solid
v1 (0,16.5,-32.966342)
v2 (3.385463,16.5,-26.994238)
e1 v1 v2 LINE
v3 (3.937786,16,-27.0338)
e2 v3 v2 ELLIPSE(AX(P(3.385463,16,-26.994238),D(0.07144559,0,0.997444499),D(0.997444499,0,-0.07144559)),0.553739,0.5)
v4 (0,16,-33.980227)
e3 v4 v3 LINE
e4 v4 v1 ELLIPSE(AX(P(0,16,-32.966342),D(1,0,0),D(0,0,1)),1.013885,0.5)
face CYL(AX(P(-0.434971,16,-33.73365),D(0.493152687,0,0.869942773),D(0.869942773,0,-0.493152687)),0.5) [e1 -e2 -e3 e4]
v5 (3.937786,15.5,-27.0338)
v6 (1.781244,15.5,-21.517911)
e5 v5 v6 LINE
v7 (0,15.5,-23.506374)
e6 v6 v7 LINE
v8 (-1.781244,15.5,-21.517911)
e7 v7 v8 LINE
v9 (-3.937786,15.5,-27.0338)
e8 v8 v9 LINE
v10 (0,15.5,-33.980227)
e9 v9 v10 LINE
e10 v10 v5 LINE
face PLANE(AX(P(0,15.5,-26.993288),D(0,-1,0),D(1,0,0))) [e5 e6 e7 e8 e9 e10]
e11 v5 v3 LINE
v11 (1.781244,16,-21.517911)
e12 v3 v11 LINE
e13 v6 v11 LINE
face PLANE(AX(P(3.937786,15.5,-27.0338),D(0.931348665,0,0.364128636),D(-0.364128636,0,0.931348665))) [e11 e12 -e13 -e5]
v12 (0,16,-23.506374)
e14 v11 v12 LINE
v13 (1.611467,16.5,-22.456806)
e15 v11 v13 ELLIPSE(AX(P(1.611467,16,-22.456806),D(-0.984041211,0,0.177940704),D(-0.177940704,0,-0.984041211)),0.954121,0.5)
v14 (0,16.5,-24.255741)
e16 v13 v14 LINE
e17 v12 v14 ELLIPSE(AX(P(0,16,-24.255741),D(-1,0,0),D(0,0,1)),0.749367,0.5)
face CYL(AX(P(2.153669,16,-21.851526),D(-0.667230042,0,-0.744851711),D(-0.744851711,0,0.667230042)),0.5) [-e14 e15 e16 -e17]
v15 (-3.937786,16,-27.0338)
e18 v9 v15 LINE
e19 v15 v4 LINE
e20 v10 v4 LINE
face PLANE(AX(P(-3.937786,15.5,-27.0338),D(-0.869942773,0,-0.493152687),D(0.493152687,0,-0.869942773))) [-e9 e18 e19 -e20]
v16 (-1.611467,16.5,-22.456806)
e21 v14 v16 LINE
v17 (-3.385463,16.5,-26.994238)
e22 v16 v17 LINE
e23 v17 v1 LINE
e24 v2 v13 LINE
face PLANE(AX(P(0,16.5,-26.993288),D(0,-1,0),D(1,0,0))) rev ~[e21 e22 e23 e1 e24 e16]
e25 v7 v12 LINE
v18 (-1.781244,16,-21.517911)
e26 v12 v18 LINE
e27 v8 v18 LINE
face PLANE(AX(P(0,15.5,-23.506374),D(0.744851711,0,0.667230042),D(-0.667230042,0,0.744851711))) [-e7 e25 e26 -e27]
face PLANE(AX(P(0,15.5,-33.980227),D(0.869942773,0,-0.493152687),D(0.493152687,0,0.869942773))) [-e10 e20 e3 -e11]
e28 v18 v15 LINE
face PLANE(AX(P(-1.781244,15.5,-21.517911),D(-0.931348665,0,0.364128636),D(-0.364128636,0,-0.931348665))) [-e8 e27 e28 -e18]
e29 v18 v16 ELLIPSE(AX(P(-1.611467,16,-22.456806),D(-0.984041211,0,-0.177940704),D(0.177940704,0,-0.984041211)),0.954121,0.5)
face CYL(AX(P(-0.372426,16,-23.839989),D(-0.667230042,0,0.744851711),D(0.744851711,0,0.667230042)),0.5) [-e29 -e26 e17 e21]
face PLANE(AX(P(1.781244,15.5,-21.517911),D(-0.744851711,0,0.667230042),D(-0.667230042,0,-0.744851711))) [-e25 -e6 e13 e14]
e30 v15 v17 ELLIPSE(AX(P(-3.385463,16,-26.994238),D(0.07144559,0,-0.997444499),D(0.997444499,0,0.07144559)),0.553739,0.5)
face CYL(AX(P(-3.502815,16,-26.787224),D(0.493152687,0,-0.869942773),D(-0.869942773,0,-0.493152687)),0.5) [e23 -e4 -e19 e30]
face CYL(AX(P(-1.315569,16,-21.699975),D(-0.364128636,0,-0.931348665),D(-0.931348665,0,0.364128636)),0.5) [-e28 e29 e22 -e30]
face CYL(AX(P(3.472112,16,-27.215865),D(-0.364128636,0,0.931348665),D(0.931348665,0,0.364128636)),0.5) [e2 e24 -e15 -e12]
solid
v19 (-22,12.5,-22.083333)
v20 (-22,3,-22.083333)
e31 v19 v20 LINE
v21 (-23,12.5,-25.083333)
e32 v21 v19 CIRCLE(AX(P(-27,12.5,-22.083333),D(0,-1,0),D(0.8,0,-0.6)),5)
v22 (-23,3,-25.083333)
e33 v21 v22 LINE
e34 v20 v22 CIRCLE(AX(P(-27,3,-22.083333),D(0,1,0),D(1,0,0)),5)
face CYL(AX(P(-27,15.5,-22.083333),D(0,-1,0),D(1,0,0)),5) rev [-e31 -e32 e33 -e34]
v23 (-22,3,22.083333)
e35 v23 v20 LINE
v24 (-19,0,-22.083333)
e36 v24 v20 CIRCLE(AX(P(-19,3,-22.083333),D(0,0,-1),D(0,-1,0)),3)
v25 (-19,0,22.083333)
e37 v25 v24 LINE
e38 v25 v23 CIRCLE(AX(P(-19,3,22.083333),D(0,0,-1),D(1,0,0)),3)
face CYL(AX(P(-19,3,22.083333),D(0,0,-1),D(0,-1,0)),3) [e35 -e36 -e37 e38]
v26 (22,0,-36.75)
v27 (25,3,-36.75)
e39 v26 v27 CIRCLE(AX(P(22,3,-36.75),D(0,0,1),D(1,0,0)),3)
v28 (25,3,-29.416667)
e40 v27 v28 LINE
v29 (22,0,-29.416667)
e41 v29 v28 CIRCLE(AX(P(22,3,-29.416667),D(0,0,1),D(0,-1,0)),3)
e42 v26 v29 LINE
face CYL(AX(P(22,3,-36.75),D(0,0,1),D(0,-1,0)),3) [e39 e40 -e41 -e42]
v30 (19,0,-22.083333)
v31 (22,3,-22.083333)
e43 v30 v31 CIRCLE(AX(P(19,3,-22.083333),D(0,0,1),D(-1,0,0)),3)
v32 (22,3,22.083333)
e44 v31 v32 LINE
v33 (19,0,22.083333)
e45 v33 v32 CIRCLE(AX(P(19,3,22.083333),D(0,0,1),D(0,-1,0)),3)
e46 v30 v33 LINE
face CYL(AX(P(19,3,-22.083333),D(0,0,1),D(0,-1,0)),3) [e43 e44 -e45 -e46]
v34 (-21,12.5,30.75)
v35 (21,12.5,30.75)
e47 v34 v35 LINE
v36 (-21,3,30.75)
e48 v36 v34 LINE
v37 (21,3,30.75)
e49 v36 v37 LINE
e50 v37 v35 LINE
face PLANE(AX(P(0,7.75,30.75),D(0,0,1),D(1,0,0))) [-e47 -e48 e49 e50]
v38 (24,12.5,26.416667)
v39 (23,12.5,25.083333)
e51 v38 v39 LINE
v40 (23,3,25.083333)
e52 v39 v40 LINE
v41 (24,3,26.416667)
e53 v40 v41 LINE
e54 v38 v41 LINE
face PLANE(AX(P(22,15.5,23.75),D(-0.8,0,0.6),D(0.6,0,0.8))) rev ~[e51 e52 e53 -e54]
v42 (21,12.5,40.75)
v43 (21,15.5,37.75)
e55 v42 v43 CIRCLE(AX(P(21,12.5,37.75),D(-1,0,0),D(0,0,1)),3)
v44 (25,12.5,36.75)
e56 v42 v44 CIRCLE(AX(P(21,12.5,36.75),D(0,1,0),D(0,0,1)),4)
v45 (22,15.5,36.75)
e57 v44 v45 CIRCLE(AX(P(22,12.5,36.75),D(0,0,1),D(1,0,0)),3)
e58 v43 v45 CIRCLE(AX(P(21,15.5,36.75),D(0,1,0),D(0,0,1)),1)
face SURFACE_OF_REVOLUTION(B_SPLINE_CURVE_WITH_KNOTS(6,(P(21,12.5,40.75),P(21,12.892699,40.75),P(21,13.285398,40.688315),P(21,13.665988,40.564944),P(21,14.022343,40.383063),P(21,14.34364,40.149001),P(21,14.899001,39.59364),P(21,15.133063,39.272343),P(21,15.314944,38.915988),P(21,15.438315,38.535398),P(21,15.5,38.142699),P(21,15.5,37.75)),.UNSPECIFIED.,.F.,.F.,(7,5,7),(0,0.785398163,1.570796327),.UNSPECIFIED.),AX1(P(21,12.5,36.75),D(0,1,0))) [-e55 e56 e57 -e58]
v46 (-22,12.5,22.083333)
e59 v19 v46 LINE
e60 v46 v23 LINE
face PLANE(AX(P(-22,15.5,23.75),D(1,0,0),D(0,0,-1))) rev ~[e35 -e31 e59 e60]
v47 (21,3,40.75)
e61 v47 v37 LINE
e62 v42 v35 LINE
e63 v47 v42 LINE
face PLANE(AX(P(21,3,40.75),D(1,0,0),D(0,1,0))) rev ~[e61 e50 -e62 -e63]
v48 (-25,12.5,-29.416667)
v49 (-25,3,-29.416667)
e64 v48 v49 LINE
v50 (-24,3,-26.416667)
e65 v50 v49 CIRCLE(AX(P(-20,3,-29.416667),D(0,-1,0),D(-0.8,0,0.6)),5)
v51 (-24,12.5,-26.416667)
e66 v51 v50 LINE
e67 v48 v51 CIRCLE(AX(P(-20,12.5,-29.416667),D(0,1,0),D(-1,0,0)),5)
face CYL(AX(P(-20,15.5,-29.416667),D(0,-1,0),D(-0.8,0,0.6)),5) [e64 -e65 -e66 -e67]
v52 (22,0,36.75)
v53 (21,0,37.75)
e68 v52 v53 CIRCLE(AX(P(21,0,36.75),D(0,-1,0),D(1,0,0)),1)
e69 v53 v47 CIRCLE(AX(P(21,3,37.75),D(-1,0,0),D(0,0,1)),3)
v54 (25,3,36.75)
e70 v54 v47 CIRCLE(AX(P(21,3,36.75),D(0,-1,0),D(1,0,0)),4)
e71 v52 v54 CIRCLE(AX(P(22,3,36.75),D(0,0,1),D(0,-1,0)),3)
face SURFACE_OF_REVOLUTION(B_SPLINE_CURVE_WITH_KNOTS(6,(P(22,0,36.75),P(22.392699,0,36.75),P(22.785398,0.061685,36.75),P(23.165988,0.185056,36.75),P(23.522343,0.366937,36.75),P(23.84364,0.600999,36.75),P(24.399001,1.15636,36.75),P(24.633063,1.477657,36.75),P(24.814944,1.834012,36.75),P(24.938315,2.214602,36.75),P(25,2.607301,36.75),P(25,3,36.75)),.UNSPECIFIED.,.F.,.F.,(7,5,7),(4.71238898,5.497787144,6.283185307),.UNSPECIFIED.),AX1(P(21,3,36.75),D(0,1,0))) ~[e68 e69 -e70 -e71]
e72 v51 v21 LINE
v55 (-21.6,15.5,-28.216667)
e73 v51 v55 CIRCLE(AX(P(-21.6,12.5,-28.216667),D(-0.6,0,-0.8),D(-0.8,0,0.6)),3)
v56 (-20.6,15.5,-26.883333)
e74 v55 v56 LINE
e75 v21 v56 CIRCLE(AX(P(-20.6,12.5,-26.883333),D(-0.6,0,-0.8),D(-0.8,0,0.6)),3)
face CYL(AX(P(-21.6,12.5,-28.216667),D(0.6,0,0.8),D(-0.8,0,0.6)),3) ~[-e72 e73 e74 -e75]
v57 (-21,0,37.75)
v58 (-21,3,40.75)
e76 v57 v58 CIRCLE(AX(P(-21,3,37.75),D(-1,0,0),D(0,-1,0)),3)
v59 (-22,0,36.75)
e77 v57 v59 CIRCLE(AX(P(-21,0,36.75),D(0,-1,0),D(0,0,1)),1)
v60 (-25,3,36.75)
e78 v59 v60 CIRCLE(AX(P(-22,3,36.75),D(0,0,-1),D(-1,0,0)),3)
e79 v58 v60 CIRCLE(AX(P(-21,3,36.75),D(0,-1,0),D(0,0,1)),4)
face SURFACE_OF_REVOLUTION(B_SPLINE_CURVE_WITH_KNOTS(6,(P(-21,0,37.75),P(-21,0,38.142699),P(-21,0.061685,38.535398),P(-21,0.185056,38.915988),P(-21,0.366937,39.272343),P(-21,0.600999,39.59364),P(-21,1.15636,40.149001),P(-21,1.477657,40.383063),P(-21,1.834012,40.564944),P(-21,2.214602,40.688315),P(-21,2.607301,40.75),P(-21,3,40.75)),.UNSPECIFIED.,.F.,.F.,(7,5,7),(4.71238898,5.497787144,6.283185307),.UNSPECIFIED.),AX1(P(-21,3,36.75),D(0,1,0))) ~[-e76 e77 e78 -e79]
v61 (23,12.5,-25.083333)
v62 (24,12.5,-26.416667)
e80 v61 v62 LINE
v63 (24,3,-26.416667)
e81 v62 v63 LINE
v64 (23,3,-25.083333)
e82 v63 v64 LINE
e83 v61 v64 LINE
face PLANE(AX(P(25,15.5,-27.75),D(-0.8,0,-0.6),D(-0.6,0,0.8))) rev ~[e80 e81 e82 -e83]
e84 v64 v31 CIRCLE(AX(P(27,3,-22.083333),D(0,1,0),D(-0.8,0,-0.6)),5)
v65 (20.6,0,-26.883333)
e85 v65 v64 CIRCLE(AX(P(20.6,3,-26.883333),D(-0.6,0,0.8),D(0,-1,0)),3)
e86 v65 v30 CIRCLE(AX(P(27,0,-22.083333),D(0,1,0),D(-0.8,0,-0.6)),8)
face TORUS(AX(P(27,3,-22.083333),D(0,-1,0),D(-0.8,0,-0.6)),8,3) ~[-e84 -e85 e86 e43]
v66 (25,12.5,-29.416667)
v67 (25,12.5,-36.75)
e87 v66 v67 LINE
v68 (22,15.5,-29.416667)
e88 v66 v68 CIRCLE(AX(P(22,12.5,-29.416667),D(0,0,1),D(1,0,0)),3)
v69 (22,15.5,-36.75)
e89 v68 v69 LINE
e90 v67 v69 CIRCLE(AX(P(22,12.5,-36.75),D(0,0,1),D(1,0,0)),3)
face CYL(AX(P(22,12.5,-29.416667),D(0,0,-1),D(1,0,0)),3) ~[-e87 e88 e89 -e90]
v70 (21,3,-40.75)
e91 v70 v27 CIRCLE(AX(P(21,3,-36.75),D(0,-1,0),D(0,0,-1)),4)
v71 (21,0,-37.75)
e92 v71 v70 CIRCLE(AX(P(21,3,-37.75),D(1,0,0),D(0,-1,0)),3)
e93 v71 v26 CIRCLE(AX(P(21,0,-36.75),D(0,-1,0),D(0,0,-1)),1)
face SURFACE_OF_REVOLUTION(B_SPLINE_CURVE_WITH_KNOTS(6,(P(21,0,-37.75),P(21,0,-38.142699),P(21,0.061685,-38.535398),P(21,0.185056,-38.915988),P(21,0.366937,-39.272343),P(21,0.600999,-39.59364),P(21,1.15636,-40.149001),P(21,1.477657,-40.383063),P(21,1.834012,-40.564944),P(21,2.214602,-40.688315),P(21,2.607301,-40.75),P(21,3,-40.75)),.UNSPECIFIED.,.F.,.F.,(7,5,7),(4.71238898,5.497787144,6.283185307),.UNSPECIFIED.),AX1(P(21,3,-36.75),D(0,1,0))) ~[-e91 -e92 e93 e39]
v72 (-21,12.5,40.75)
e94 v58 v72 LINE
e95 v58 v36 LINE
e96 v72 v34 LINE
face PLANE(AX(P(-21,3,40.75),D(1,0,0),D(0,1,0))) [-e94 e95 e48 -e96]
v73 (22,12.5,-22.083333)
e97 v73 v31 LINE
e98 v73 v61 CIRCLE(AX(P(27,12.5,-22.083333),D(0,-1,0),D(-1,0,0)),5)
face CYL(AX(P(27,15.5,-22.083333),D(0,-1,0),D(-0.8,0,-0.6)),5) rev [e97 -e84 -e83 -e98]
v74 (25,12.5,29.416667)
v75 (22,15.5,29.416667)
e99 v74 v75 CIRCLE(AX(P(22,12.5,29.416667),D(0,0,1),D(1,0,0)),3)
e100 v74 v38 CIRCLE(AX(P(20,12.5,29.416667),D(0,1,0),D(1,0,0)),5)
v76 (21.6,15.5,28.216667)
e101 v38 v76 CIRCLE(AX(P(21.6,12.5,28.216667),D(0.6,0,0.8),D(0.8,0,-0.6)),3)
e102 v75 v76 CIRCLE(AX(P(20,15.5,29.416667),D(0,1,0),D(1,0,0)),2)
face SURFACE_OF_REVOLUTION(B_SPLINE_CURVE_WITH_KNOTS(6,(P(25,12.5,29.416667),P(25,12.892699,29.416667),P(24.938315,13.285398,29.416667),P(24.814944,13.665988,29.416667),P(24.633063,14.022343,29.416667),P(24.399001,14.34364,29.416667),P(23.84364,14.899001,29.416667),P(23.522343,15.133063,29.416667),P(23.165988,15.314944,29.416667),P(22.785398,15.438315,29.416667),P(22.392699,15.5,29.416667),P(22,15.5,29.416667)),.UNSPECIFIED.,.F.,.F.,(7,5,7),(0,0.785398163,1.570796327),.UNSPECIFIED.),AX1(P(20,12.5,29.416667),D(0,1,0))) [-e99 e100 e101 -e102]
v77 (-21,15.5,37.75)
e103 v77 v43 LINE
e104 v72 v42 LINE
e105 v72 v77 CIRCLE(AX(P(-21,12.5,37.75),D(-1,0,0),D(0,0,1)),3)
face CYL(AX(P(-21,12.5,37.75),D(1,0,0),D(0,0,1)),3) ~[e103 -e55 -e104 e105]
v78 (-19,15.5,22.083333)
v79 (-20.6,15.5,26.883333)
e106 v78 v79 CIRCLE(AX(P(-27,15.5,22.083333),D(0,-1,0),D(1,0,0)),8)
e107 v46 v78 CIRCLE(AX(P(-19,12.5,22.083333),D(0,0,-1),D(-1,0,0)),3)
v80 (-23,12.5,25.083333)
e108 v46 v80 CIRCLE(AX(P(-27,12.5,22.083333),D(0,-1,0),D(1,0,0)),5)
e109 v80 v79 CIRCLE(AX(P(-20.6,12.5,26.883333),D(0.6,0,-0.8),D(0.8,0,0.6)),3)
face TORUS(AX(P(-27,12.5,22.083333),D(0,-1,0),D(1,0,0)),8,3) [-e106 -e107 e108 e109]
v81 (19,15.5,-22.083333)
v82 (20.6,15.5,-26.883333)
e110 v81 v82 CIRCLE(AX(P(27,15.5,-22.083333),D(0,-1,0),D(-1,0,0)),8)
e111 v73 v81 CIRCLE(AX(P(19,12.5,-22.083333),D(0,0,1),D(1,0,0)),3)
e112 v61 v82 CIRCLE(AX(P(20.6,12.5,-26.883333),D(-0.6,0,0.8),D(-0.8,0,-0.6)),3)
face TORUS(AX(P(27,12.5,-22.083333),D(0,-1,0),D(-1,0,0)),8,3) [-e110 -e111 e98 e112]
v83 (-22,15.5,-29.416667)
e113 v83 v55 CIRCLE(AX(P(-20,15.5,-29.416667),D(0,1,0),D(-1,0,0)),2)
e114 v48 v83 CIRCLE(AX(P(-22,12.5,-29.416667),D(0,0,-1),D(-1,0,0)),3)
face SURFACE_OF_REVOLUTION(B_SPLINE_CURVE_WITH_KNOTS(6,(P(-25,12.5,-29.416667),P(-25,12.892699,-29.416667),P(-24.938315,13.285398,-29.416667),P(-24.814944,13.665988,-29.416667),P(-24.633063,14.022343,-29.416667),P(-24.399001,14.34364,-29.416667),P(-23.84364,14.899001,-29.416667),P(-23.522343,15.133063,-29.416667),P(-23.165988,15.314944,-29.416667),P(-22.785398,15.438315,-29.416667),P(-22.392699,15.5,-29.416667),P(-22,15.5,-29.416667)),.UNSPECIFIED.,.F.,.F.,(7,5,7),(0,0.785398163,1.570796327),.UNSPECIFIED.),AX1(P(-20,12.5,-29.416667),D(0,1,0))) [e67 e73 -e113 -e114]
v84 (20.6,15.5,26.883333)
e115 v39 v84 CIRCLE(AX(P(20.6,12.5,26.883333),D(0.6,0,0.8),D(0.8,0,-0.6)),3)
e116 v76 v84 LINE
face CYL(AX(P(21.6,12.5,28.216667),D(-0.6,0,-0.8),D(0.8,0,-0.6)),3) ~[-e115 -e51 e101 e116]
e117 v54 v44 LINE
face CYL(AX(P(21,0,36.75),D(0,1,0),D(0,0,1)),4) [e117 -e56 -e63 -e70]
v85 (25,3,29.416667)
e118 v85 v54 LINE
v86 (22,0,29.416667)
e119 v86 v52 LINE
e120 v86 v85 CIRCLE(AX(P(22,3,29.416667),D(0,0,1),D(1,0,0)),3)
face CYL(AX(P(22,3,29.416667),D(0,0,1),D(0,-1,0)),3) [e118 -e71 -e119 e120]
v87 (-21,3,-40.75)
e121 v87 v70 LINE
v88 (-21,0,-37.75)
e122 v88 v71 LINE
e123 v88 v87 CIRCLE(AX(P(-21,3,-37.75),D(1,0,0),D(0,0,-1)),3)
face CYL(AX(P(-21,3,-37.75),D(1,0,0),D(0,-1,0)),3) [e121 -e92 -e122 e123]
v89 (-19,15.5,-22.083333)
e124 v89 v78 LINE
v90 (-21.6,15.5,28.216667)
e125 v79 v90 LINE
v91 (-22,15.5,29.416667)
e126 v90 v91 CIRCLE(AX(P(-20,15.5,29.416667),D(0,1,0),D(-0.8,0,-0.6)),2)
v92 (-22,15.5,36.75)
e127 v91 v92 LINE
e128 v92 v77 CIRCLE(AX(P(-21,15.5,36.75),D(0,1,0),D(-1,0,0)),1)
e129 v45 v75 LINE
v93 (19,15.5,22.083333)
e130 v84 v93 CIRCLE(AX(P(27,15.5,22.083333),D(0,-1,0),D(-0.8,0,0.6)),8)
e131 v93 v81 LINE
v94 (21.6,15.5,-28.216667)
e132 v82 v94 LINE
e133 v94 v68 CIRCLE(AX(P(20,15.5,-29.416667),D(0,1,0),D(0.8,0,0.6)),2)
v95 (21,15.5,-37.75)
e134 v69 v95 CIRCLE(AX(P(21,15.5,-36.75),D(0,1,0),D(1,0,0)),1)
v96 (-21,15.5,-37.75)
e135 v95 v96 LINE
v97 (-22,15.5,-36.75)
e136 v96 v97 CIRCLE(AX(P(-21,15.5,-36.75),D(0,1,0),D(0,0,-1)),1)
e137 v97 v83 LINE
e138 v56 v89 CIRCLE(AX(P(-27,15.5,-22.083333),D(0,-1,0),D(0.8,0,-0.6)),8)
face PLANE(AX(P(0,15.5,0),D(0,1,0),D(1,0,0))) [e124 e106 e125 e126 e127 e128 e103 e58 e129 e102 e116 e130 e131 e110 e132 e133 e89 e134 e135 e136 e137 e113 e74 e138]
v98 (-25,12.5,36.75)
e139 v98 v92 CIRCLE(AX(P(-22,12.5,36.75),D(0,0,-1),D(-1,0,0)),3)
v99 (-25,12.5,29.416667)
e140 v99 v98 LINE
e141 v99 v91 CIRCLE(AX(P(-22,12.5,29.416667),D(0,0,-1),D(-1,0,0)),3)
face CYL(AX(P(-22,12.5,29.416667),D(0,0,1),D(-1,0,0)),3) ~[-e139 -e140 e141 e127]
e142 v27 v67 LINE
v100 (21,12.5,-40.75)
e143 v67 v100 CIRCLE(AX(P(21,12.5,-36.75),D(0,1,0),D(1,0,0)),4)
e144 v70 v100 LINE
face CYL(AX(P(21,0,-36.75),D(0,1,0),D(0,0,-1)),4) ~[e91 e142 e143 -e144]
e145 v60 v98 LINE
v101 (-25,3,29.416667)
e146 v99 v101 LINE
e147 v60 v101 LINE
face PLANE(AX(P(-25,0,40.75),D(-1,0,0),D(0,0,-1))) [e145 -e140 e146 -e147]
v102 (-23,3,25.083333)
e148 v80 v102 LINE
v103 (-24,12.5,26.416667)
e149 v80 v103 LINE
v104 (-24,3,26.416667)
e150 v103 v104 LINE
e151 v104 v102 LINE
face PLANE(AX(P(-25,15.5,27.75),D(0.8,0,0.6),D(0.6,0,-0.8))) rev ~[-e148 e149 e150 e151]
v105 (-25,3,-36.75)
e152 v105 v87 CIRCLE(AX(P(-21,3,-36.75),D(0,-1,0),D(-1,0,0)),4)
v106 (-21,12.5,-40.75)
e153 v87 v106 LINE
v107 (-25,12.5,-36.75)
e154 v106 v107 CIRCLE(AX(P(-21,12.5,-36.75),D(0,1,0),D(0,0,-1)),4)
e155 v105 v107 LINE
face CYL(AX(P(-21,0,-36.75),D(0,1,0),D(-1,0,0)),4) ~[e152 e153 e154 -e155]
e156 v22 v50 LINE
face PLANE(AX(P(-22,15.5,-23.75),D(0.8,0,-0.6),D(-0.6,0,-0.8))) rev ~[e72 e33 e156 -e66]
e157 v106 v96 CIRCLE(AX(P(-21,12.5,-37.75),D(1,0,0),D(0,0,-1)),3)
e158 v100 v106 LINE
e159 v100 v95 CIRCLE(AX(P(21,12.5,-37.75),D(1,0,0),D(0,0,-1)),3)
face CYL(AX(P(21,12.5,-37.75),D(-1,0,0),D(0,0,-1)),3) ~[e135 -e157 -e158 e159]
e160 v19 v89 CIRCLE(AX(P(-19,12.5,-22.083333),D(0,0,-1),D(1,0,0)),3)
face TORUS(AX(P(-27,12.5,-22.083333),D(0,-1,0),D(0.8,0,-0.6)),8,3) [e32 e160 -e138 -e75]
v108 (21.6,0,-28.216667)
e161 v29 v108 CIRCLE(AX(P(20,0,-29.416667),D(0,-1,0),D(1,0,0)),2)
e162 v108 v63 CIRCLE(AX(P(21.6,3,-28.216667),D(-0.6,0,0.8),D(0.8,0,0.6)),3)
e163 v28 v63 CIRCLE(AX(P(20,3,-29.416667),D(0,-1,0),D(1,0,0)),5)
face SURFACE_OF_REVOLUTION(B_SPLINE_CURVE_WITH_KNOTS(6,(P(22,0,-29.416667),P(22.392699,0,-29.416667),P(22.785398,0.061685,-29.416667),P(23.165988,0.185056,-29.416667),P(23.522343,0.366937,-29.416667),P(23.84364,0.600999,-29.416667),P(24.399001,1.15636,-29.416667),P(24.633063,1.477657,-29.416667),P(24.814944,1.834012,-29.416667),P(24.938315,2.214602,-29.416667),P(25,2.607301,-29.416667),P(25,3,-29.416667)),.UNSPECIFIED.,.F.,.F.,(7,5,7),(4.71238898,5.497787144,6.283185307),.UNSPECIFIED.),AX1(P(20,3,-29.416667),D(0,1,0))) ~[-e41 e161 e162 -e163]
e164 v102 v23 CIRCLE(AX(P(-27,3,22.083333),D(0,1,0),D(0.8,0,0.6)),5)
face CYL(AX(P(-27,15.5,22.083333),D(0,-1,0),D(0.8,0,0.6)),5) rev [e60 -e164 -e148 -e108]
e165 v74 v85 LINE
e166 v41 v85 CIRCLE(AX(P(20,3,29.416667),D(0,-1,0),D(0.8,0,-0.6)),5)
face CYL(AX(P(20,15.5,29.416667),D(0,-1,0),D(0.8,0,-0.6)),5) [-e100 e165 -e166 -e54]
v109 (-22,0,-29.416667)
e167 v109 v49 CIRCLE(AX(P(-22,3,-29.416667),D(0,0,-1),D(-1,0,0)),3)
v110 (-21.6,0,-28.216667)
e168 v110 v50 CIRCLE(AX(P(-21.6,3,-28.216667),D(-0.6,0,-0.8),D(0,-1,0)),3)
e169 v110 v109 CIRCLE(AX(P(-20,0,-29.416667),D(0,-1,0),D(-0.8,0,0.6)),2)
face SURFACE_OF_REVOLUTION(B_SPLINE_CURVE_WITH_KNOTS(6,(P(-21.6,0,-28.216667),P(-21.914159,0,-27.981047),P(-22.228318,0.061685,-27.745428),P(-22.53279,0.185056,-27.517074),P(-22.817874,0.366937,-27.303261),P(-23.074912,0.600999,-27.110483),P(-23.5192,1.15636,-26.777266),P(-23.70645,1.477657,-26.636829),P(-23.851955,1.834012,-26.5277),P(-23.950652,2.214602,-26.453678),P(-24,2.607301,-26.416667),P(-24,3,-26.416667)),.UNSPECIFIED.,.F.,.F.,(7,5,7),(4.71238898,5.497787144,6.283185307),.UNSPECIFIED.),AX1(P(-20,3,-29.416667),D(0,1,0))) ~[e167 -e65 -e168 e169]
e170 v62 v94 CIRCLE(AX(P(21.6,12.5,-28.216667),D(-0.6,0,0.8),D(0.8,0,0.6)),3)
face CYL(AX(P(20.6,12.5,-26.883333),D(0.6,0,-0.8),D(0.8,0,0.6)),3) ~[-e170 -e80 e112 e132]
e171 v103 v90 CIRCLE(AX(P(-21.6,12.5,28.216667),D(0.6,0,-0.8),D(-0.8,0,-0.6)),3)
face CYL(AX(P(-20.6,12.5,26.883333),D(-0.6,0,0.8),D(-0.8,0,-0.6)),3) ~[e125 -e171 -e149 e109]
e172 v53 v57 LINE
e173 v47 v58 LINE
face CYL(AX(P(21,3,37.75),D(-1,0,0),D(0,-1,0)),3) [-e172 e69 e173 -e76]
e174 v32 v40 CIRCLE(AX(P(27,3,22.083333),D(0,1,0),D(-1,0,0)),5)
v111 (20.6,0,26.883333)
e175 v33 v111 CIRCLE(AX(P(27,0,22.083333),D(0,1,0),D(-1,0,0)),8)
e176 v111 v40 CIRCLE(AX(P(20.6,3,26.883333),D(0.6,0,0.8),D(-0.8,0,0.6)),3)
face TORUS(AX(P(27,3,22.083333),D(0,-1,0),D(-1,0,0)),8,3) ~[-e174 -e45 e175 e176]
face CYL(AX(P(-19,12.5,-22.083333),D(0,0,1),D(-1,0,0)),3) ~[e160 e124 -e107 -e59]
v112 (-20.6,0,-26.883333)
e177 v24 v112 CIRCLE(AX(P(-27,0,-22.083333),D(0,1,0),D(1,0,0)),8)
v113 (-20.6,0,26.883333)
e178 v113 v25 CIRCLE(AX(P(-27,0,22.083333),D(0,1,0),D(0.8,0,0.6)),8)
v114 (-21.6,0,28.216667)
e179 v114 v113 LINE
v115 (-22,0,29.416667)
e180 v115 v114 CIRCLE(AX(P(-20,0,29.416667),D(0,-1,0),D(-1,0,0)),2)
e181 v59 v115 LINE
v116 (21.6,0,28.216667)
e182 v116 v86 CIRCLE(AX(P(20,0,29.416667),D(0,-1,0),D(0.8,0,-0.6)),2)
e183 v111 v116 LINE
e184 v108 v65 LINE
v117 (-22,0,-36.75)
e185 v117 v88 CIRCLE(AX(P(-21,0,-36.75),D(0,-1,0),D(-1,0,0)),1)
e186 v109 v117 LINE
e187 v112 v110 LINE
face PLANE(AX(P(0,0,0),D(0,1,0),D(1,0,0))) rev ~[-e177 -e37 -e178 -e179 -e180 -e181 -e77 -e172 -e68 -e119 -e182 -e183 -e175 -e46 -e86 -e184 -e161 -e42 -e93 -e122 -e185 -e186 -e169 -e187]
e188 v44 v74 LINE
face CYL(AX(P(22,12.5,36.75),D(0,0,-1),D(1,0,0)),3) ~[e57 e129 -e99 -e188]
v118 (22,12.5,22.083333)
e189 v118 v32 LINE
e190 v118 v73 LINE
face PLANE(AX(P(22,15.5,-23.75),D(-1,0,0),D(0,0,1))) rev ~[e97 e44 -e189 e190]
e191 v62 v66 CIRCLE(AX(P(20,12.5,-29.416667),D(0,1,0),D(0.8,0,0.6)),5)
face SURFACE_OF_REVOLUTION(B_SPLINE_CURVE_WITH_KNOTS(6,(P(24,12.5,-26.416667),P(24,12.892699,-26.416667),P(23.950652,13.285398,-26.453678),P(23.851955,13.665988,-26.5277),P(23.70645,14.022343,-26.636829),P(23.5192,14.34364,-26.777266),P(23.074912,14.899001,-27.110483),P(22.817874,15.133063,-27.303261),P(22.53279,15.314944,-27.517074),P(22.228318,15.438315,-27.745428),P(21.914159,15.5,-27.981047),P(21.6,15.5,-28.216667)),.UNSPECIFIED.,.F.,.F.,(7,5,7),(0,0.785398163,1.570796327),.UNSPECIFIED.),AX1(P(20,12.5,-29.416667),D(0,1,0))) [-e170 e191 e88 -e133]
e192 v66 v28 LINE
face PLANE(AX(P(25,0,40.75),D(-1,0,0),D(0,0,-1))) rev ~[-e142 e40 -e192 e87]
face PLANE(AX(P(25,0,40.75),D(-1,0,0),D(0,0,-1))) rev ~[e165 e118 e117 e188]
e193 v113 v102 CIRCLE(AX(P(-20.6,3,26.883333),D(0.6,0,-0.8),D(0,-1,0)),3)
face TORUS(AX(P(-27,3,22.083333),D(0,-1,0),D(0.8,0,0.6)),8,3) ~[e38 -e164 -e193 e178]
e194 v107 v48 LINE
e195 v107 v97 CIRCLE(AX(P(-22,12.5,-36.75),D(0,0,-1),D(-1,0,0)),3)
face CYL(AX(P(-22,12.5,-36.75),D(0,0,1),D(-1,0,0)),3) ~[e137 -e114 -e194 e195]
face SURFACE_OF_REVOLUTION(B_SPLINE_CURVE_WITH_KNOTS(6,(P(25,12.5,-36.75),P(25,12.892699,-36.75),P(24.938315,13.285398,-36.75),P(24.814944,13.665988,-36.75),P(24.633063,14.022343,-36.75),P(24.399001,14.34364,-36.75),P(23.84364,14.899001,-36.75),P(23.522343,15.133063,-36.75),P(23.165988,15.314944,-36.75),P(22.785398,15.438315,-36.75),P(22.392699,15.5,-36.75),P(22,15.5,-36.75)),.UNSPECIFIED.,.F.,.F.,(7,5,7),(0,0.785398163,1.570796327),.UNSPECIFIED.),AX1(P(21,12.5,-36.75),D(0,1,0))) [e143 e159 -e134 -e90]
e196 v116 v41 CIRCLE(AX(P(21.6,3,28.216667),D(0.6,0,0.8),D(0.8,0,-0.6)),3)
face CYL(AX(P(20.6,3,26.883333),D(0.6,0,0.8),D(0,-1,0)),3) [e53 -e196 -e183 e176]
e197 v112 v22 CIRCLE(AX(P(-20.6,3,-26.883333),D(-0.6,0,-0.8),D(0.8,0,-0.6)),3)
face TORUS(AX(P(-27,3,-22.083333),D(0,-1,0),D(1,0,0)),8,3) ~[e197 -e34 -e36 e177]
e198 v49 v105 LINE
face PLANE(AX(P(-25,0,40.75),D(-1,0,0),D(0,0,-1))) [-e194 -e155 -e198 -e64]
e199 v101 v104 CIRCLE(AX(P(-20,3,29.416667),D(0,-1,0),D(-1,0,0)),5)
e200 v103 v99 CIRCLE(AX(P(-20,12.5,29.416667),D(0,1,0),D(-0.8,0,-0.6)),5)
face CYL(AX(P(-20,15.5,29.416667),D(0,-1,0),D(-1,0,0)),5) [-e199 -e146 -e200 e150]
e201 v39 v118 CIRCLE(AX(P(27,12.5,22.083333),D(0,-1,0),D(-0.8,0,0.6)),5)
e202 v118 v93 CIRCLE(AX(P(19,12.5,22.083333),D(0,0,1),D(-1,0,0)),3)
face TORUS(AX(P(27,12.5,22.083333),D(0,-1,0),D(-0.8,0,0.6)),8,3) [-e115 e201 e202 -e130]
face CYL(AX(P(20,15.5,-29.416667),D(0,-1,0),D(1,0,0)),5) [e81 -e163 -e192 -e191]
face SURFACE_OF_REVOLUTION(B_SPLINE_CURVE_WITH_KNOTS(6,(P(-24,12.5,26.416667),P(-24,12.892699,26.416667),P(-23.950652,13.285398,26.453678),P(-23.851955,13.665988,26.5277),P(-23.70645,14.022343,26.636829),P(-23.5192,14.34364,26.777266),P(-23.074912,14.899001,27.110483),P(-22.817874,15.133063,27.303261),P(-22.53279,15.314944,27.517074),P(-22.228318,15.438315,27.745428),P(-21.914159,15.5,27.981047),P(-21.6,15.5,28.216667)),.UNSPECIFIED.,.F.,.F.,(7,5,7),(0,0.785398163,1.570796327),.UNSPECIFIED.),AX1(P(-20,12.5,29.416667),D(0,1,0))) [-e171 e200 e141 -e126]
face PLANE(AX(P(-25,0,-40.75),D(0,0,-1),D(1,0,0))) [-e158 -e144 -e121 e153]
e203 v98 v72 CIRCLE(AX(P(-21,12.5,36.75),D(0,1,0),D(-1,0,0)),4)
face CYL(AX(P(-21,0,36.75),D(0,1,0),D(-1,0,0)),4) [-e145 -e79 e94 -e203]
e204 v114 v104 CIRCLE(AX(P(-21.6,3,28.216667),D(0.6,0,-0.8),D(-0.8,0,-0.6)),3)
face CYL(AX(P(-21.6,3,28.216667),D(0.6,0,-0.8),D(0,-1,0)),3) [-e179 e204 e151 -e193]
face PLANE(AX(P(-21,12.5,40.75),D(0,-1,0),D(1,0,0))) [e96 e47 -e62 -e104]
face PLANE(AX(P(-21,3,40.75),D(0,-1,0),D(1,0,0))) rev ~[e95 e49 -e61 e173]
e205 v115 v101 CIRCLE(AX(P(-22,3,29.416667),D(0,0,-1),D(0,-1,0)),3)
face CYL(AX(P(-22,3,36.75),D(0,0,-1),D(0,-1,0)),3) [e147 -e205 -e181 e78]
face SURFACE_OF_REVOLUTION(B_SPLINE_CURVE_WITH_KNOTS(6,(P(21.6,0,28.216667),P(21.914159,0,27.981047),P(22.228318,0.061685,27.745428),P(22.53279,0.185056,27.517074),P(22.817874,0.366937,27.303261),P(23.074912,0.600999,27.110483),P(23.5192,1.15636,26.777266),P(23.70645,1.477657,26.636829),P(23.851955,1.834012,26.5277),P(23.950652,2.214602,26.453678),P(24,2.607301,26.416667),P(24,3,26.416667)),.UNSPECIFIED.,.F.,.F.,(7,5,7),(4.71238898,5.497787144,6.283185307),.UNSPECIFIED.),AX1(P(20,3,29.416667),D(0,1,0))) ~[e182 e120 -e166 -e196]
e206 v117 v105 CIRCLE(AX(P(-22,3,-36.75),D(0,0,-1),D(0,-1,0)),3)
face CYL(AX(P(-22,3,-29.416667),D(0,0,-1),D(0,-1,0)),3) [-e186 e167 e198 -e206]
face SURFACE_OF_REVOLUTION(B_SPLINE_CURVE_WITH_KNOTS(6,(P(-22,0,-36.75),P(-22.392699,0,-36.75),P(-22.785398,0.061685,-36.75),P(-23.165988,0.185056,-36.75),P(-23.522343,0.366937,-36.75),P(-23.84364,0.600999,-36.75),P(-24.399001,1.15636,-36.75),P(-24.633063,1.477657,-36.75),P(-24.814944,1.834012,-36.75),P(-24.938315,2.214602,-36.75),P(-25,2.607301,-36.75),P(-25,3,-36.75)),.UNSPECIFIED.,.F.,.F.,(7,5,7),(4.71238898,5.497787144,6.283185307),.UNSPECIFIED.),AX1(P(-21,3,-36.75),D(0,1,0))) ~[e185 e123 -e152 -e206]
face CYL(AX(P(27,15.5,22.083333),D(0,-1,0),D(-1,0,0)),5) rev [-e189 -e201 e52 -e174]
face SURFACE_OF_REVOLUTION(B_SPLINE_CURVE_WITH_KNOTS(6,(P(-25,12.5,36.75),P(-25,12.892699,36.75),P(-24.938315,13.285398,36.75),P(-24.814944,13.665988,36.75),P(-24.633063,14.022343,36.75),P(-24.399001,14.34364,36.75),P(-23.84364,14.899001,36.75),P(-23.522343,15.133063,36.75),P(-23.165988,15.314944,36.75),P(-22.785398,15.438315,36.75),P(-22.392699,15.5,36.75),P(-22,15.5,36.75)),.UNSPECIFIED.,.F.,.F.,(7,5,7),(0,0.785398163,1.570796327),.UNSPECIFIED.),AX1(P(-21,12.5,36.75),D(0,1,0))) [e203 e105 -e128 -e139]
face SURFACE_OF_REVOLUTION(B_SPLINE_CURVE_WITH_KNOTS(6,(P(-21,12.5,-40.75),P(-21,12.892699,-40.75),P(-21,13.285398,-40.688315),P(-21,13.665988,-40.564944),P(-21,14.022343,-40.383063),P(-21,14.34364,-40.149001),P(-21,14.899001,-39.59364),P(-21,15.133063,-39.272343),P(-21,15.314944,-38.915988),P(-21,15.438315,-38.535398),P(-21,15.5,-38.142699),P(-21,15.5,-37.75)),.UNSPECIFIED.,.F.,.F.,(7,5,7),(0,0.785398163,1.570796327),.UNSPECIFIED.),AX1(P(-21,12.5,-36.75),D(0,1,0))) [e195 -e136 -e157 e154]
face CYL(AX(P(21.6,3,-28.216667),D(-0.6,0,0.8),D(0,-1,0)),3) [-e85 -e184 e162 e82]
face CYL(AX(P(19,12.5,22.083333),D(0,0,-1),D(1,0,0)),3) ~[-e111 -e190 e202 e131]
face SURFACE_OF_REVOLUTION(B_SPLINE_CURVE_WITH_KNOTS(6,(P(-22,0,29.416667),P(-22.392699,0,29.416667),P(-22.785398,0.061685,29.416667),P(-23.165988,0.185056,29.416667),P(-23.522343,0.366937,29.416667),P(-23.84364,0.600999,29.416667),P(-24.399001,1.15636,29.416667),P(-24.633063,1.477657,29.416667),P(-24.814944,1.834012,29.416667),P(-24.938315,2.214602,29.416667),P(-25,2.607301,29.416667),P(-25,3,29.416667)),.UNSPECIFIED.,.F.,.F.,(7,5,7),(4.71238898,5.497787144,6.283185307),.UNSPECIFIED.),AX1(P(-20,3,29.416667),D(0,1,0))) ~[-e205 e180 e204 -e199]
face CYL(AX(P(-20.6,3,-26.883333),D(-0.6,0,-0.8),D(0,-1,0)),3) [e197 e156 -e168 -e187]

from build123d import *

# Parameters (mm, degrees)
SKETCH1_W           = 50
SKETCH1_H           = 81.5
BOSS_EXTRUDE1_DEPTH = 15.5
CUT_EXTRUDE4_DEPTH  = 51.257462133
CUT_EXTRUDE5_DEPTH  = 51.257462133
FILLET1_R           = 5
FILLET3_R           = 4
FILLET4_R           = 3
BOSS_EXTRUDE2_DEPTH = 1
FILLET5_R           = 0.5
SKETCH6_W           = 42
SKETCH6_H           = 9.5
CUT_EXTRUDE6_DEPTH  = 10


with BuildPart() as part:
    # Sketch1 → Boss-Extrude1 (new body)
    with BuildSketch(Plane(origin=(0, 0, 0), x_dir=(1, 0, 0), z_dir=(0, 1, 0))):
        Rectangle(SKETCH1_W, SKETCH1_H)
    extrude(amount=BOSS_EXTRUDE1_DEPTH)

    # Sketch2 → Cut-Extrude4 (cut, through all)
    with BuildSketch(Plane(origin=(0, 15.5, 0), x_dir=(-1, 0, 0), z_dir=(0, 1, 0))):
        Polygon((-22, 23.75), (-25, 27.75), (-25, -27.75), (-22, -23.75), align=None)
    extrude(amount=-CUT_EXTRUDE4_DEPTH, mode=Mode.SUBTRACT)

    # Sketch2<6> → Cut-Extrude5 (cut, through all)
    with BuildSketch(Plane(origin=(0, 15.5, 0), x_dir=(-1, 0, 0), z_dir=(0, 1, 0))):
        Polygon((22, -23.75), (25, -27.75), (25, 27.75), (22, 23.75), align=None)
    extrude(amount=-CUT_EXTRUDE5_DEPTH, mode=Mode.SUBTRACT)

    # Fillet1
    fillet1_edges = [part.edges().sort_by_distance(p)[0] for p in [
        (25, 7.75, -27.75),
        (25, 7.75, 27.75),
        (22, 7.75, 23.75),
        (22, 7.75, -23.75),
        (-25, 7.75, 27.75),
        (-25, 7.75, -27.75),
        (-22, 7.75, -23.75),
        (-22, 7.75, 23.75),
    ]]
    fillet(fillet1_edges, radius=FILLET1_R)

    # Fillet3
    fillet3_edges = [part.edges().sort_by_distance(p)[0] for p in [
        (25, 7.75, 40.75),
        (-25, 7.75, 40.75),
        (-25, 7.75, -40.75),
        (25, 7.75, -40.75),
    ]]
    fillet(fillet3_edges, radius=FILLET3_R)

    # Fillet4
    fillet4_edges = [part.edges().sort_by_distance(p)[0] for p in [
        (24.74341649, 0, 27.835527837),
        (23.5, 0, 25.75),
        (22.25658351, 0, 23.664472163),
        (22, 0, 0),
        (22.25658351, 0, -23.664472163),
        (23.5, 0, -25.75),
        (24.74341649, 0, -27.835527837),
        (25, 0, -33.083333333),
        (23.828427125, 0, -39.578427125),
        (0, 0, -40.75),
        (-23.828427125, 0, -39.578427125),
        (-25, 0, -33.083333333),
        (-24.74341649, 0, -27.835527837),
        (-23.5, 0, -25.75),
        (-22.25658351, 0, -23.664472163),
        (-22, 0, 0),
        (-22.25658351, 0, 23.664472163),
        (-23.5, 0, 25.75),
        (-24.74341649, 0, 27.835527837),
        (-25, 0, 33.083333333),
        (-23.828427125, 0, 39.578427125),
        (0, 0, 40.75),
        (23.828427125, 0, 39.578427125),
        (25, 0, 33.083333333),
        (-23.828427125, 15.5, 39.578427125),
        (-25, 15.5, 33.083333333),
        (-24.74341649, 15.5, 27.835527837),
        (-23.5, 15.5, 25.75),
        (-22.25658351, 15.5, 23.664472163),
        (-22, 15.5, 0),
        (-22.25658351, 15.5, -23.664472163),
        (-23.5, 15.5, -25.75),
        (-24.74341649, 15.5, -27.835527837),
        (-25, 15.5, -33.083333333),
        (-23.828427125, 15.5, -39.578427125),
        (0, 15.5, -40.75),
        (23.828427125, 15.5, -39.578427125),
        (25, 15.5, -33.083333333),
        (24.74341649, 15.5, -27.835527837),
        (23.5, 15.5, -25.75),
        (22.25658351, 15.5, -23.664472163),
        (22, 15.5, 0),
        (22.25658351, 15.5, 23.664472163),
        (23.5, 15.5, 25.75),
        (24.74341649, 15.5, 27.835527837),
        (25, 15.5, 33.083333333),
        (23.828427125, 15.5, 39.578427125),
        (0, 15.5, 40.75),
    ]]
    fillet(fillet4_edges, radius=FILLET4_R)

    # Sketch6 → Cut-Extrude6 (cut)
    with BuildSketch(Plane.XY.offset(40.75)):
        with Locations((0, 7.75)):
            Rectangle(SKETCH6_W, SKETCH6_H)
    extrude(amount=-CUT_EXTRUDE6_DEPTH, mode=Mode.SUBTRACT)


with BuildPart() as body_2:
    # Sketch5 → Boss-Extrude2 (new body)
    with BuildSketch(Plane(origin=(0, 15.5, 0), x_dir=(-1, 0, 0), z_dir=(0, 1, 0))):
        Polygon((0, -23.506374229), (1.781243622, -21.517911068), (3.937786411, -27.033800367), (0, -33.980226737), (-3.937786411, -27.033800367), (-1.781243622, -21.517911068), align=None)
    extrude(amount=BOSS_EXTRUDE2_DEPTH)

    # Fillet5
    fillet5_edges = [body_2.edges().sort_by_distance(p)[0] for p in [
        (1.968893205, 16.5, -30.507013552),
        (-1.968893205, 16.5, -30.507013552),
        (-2.859515016, 16.5, -24.275855717),
        (-0.890621811, 16.5, -22.512142648),
        (0.890621811, 16.5, -22.512142648),
        (2.859515016, 16.5, -24.275855717),
    ]]
    fillet(fillet5_edges, radius=FILLET5_R)


solid = Compound([part.part, body_2.part])
